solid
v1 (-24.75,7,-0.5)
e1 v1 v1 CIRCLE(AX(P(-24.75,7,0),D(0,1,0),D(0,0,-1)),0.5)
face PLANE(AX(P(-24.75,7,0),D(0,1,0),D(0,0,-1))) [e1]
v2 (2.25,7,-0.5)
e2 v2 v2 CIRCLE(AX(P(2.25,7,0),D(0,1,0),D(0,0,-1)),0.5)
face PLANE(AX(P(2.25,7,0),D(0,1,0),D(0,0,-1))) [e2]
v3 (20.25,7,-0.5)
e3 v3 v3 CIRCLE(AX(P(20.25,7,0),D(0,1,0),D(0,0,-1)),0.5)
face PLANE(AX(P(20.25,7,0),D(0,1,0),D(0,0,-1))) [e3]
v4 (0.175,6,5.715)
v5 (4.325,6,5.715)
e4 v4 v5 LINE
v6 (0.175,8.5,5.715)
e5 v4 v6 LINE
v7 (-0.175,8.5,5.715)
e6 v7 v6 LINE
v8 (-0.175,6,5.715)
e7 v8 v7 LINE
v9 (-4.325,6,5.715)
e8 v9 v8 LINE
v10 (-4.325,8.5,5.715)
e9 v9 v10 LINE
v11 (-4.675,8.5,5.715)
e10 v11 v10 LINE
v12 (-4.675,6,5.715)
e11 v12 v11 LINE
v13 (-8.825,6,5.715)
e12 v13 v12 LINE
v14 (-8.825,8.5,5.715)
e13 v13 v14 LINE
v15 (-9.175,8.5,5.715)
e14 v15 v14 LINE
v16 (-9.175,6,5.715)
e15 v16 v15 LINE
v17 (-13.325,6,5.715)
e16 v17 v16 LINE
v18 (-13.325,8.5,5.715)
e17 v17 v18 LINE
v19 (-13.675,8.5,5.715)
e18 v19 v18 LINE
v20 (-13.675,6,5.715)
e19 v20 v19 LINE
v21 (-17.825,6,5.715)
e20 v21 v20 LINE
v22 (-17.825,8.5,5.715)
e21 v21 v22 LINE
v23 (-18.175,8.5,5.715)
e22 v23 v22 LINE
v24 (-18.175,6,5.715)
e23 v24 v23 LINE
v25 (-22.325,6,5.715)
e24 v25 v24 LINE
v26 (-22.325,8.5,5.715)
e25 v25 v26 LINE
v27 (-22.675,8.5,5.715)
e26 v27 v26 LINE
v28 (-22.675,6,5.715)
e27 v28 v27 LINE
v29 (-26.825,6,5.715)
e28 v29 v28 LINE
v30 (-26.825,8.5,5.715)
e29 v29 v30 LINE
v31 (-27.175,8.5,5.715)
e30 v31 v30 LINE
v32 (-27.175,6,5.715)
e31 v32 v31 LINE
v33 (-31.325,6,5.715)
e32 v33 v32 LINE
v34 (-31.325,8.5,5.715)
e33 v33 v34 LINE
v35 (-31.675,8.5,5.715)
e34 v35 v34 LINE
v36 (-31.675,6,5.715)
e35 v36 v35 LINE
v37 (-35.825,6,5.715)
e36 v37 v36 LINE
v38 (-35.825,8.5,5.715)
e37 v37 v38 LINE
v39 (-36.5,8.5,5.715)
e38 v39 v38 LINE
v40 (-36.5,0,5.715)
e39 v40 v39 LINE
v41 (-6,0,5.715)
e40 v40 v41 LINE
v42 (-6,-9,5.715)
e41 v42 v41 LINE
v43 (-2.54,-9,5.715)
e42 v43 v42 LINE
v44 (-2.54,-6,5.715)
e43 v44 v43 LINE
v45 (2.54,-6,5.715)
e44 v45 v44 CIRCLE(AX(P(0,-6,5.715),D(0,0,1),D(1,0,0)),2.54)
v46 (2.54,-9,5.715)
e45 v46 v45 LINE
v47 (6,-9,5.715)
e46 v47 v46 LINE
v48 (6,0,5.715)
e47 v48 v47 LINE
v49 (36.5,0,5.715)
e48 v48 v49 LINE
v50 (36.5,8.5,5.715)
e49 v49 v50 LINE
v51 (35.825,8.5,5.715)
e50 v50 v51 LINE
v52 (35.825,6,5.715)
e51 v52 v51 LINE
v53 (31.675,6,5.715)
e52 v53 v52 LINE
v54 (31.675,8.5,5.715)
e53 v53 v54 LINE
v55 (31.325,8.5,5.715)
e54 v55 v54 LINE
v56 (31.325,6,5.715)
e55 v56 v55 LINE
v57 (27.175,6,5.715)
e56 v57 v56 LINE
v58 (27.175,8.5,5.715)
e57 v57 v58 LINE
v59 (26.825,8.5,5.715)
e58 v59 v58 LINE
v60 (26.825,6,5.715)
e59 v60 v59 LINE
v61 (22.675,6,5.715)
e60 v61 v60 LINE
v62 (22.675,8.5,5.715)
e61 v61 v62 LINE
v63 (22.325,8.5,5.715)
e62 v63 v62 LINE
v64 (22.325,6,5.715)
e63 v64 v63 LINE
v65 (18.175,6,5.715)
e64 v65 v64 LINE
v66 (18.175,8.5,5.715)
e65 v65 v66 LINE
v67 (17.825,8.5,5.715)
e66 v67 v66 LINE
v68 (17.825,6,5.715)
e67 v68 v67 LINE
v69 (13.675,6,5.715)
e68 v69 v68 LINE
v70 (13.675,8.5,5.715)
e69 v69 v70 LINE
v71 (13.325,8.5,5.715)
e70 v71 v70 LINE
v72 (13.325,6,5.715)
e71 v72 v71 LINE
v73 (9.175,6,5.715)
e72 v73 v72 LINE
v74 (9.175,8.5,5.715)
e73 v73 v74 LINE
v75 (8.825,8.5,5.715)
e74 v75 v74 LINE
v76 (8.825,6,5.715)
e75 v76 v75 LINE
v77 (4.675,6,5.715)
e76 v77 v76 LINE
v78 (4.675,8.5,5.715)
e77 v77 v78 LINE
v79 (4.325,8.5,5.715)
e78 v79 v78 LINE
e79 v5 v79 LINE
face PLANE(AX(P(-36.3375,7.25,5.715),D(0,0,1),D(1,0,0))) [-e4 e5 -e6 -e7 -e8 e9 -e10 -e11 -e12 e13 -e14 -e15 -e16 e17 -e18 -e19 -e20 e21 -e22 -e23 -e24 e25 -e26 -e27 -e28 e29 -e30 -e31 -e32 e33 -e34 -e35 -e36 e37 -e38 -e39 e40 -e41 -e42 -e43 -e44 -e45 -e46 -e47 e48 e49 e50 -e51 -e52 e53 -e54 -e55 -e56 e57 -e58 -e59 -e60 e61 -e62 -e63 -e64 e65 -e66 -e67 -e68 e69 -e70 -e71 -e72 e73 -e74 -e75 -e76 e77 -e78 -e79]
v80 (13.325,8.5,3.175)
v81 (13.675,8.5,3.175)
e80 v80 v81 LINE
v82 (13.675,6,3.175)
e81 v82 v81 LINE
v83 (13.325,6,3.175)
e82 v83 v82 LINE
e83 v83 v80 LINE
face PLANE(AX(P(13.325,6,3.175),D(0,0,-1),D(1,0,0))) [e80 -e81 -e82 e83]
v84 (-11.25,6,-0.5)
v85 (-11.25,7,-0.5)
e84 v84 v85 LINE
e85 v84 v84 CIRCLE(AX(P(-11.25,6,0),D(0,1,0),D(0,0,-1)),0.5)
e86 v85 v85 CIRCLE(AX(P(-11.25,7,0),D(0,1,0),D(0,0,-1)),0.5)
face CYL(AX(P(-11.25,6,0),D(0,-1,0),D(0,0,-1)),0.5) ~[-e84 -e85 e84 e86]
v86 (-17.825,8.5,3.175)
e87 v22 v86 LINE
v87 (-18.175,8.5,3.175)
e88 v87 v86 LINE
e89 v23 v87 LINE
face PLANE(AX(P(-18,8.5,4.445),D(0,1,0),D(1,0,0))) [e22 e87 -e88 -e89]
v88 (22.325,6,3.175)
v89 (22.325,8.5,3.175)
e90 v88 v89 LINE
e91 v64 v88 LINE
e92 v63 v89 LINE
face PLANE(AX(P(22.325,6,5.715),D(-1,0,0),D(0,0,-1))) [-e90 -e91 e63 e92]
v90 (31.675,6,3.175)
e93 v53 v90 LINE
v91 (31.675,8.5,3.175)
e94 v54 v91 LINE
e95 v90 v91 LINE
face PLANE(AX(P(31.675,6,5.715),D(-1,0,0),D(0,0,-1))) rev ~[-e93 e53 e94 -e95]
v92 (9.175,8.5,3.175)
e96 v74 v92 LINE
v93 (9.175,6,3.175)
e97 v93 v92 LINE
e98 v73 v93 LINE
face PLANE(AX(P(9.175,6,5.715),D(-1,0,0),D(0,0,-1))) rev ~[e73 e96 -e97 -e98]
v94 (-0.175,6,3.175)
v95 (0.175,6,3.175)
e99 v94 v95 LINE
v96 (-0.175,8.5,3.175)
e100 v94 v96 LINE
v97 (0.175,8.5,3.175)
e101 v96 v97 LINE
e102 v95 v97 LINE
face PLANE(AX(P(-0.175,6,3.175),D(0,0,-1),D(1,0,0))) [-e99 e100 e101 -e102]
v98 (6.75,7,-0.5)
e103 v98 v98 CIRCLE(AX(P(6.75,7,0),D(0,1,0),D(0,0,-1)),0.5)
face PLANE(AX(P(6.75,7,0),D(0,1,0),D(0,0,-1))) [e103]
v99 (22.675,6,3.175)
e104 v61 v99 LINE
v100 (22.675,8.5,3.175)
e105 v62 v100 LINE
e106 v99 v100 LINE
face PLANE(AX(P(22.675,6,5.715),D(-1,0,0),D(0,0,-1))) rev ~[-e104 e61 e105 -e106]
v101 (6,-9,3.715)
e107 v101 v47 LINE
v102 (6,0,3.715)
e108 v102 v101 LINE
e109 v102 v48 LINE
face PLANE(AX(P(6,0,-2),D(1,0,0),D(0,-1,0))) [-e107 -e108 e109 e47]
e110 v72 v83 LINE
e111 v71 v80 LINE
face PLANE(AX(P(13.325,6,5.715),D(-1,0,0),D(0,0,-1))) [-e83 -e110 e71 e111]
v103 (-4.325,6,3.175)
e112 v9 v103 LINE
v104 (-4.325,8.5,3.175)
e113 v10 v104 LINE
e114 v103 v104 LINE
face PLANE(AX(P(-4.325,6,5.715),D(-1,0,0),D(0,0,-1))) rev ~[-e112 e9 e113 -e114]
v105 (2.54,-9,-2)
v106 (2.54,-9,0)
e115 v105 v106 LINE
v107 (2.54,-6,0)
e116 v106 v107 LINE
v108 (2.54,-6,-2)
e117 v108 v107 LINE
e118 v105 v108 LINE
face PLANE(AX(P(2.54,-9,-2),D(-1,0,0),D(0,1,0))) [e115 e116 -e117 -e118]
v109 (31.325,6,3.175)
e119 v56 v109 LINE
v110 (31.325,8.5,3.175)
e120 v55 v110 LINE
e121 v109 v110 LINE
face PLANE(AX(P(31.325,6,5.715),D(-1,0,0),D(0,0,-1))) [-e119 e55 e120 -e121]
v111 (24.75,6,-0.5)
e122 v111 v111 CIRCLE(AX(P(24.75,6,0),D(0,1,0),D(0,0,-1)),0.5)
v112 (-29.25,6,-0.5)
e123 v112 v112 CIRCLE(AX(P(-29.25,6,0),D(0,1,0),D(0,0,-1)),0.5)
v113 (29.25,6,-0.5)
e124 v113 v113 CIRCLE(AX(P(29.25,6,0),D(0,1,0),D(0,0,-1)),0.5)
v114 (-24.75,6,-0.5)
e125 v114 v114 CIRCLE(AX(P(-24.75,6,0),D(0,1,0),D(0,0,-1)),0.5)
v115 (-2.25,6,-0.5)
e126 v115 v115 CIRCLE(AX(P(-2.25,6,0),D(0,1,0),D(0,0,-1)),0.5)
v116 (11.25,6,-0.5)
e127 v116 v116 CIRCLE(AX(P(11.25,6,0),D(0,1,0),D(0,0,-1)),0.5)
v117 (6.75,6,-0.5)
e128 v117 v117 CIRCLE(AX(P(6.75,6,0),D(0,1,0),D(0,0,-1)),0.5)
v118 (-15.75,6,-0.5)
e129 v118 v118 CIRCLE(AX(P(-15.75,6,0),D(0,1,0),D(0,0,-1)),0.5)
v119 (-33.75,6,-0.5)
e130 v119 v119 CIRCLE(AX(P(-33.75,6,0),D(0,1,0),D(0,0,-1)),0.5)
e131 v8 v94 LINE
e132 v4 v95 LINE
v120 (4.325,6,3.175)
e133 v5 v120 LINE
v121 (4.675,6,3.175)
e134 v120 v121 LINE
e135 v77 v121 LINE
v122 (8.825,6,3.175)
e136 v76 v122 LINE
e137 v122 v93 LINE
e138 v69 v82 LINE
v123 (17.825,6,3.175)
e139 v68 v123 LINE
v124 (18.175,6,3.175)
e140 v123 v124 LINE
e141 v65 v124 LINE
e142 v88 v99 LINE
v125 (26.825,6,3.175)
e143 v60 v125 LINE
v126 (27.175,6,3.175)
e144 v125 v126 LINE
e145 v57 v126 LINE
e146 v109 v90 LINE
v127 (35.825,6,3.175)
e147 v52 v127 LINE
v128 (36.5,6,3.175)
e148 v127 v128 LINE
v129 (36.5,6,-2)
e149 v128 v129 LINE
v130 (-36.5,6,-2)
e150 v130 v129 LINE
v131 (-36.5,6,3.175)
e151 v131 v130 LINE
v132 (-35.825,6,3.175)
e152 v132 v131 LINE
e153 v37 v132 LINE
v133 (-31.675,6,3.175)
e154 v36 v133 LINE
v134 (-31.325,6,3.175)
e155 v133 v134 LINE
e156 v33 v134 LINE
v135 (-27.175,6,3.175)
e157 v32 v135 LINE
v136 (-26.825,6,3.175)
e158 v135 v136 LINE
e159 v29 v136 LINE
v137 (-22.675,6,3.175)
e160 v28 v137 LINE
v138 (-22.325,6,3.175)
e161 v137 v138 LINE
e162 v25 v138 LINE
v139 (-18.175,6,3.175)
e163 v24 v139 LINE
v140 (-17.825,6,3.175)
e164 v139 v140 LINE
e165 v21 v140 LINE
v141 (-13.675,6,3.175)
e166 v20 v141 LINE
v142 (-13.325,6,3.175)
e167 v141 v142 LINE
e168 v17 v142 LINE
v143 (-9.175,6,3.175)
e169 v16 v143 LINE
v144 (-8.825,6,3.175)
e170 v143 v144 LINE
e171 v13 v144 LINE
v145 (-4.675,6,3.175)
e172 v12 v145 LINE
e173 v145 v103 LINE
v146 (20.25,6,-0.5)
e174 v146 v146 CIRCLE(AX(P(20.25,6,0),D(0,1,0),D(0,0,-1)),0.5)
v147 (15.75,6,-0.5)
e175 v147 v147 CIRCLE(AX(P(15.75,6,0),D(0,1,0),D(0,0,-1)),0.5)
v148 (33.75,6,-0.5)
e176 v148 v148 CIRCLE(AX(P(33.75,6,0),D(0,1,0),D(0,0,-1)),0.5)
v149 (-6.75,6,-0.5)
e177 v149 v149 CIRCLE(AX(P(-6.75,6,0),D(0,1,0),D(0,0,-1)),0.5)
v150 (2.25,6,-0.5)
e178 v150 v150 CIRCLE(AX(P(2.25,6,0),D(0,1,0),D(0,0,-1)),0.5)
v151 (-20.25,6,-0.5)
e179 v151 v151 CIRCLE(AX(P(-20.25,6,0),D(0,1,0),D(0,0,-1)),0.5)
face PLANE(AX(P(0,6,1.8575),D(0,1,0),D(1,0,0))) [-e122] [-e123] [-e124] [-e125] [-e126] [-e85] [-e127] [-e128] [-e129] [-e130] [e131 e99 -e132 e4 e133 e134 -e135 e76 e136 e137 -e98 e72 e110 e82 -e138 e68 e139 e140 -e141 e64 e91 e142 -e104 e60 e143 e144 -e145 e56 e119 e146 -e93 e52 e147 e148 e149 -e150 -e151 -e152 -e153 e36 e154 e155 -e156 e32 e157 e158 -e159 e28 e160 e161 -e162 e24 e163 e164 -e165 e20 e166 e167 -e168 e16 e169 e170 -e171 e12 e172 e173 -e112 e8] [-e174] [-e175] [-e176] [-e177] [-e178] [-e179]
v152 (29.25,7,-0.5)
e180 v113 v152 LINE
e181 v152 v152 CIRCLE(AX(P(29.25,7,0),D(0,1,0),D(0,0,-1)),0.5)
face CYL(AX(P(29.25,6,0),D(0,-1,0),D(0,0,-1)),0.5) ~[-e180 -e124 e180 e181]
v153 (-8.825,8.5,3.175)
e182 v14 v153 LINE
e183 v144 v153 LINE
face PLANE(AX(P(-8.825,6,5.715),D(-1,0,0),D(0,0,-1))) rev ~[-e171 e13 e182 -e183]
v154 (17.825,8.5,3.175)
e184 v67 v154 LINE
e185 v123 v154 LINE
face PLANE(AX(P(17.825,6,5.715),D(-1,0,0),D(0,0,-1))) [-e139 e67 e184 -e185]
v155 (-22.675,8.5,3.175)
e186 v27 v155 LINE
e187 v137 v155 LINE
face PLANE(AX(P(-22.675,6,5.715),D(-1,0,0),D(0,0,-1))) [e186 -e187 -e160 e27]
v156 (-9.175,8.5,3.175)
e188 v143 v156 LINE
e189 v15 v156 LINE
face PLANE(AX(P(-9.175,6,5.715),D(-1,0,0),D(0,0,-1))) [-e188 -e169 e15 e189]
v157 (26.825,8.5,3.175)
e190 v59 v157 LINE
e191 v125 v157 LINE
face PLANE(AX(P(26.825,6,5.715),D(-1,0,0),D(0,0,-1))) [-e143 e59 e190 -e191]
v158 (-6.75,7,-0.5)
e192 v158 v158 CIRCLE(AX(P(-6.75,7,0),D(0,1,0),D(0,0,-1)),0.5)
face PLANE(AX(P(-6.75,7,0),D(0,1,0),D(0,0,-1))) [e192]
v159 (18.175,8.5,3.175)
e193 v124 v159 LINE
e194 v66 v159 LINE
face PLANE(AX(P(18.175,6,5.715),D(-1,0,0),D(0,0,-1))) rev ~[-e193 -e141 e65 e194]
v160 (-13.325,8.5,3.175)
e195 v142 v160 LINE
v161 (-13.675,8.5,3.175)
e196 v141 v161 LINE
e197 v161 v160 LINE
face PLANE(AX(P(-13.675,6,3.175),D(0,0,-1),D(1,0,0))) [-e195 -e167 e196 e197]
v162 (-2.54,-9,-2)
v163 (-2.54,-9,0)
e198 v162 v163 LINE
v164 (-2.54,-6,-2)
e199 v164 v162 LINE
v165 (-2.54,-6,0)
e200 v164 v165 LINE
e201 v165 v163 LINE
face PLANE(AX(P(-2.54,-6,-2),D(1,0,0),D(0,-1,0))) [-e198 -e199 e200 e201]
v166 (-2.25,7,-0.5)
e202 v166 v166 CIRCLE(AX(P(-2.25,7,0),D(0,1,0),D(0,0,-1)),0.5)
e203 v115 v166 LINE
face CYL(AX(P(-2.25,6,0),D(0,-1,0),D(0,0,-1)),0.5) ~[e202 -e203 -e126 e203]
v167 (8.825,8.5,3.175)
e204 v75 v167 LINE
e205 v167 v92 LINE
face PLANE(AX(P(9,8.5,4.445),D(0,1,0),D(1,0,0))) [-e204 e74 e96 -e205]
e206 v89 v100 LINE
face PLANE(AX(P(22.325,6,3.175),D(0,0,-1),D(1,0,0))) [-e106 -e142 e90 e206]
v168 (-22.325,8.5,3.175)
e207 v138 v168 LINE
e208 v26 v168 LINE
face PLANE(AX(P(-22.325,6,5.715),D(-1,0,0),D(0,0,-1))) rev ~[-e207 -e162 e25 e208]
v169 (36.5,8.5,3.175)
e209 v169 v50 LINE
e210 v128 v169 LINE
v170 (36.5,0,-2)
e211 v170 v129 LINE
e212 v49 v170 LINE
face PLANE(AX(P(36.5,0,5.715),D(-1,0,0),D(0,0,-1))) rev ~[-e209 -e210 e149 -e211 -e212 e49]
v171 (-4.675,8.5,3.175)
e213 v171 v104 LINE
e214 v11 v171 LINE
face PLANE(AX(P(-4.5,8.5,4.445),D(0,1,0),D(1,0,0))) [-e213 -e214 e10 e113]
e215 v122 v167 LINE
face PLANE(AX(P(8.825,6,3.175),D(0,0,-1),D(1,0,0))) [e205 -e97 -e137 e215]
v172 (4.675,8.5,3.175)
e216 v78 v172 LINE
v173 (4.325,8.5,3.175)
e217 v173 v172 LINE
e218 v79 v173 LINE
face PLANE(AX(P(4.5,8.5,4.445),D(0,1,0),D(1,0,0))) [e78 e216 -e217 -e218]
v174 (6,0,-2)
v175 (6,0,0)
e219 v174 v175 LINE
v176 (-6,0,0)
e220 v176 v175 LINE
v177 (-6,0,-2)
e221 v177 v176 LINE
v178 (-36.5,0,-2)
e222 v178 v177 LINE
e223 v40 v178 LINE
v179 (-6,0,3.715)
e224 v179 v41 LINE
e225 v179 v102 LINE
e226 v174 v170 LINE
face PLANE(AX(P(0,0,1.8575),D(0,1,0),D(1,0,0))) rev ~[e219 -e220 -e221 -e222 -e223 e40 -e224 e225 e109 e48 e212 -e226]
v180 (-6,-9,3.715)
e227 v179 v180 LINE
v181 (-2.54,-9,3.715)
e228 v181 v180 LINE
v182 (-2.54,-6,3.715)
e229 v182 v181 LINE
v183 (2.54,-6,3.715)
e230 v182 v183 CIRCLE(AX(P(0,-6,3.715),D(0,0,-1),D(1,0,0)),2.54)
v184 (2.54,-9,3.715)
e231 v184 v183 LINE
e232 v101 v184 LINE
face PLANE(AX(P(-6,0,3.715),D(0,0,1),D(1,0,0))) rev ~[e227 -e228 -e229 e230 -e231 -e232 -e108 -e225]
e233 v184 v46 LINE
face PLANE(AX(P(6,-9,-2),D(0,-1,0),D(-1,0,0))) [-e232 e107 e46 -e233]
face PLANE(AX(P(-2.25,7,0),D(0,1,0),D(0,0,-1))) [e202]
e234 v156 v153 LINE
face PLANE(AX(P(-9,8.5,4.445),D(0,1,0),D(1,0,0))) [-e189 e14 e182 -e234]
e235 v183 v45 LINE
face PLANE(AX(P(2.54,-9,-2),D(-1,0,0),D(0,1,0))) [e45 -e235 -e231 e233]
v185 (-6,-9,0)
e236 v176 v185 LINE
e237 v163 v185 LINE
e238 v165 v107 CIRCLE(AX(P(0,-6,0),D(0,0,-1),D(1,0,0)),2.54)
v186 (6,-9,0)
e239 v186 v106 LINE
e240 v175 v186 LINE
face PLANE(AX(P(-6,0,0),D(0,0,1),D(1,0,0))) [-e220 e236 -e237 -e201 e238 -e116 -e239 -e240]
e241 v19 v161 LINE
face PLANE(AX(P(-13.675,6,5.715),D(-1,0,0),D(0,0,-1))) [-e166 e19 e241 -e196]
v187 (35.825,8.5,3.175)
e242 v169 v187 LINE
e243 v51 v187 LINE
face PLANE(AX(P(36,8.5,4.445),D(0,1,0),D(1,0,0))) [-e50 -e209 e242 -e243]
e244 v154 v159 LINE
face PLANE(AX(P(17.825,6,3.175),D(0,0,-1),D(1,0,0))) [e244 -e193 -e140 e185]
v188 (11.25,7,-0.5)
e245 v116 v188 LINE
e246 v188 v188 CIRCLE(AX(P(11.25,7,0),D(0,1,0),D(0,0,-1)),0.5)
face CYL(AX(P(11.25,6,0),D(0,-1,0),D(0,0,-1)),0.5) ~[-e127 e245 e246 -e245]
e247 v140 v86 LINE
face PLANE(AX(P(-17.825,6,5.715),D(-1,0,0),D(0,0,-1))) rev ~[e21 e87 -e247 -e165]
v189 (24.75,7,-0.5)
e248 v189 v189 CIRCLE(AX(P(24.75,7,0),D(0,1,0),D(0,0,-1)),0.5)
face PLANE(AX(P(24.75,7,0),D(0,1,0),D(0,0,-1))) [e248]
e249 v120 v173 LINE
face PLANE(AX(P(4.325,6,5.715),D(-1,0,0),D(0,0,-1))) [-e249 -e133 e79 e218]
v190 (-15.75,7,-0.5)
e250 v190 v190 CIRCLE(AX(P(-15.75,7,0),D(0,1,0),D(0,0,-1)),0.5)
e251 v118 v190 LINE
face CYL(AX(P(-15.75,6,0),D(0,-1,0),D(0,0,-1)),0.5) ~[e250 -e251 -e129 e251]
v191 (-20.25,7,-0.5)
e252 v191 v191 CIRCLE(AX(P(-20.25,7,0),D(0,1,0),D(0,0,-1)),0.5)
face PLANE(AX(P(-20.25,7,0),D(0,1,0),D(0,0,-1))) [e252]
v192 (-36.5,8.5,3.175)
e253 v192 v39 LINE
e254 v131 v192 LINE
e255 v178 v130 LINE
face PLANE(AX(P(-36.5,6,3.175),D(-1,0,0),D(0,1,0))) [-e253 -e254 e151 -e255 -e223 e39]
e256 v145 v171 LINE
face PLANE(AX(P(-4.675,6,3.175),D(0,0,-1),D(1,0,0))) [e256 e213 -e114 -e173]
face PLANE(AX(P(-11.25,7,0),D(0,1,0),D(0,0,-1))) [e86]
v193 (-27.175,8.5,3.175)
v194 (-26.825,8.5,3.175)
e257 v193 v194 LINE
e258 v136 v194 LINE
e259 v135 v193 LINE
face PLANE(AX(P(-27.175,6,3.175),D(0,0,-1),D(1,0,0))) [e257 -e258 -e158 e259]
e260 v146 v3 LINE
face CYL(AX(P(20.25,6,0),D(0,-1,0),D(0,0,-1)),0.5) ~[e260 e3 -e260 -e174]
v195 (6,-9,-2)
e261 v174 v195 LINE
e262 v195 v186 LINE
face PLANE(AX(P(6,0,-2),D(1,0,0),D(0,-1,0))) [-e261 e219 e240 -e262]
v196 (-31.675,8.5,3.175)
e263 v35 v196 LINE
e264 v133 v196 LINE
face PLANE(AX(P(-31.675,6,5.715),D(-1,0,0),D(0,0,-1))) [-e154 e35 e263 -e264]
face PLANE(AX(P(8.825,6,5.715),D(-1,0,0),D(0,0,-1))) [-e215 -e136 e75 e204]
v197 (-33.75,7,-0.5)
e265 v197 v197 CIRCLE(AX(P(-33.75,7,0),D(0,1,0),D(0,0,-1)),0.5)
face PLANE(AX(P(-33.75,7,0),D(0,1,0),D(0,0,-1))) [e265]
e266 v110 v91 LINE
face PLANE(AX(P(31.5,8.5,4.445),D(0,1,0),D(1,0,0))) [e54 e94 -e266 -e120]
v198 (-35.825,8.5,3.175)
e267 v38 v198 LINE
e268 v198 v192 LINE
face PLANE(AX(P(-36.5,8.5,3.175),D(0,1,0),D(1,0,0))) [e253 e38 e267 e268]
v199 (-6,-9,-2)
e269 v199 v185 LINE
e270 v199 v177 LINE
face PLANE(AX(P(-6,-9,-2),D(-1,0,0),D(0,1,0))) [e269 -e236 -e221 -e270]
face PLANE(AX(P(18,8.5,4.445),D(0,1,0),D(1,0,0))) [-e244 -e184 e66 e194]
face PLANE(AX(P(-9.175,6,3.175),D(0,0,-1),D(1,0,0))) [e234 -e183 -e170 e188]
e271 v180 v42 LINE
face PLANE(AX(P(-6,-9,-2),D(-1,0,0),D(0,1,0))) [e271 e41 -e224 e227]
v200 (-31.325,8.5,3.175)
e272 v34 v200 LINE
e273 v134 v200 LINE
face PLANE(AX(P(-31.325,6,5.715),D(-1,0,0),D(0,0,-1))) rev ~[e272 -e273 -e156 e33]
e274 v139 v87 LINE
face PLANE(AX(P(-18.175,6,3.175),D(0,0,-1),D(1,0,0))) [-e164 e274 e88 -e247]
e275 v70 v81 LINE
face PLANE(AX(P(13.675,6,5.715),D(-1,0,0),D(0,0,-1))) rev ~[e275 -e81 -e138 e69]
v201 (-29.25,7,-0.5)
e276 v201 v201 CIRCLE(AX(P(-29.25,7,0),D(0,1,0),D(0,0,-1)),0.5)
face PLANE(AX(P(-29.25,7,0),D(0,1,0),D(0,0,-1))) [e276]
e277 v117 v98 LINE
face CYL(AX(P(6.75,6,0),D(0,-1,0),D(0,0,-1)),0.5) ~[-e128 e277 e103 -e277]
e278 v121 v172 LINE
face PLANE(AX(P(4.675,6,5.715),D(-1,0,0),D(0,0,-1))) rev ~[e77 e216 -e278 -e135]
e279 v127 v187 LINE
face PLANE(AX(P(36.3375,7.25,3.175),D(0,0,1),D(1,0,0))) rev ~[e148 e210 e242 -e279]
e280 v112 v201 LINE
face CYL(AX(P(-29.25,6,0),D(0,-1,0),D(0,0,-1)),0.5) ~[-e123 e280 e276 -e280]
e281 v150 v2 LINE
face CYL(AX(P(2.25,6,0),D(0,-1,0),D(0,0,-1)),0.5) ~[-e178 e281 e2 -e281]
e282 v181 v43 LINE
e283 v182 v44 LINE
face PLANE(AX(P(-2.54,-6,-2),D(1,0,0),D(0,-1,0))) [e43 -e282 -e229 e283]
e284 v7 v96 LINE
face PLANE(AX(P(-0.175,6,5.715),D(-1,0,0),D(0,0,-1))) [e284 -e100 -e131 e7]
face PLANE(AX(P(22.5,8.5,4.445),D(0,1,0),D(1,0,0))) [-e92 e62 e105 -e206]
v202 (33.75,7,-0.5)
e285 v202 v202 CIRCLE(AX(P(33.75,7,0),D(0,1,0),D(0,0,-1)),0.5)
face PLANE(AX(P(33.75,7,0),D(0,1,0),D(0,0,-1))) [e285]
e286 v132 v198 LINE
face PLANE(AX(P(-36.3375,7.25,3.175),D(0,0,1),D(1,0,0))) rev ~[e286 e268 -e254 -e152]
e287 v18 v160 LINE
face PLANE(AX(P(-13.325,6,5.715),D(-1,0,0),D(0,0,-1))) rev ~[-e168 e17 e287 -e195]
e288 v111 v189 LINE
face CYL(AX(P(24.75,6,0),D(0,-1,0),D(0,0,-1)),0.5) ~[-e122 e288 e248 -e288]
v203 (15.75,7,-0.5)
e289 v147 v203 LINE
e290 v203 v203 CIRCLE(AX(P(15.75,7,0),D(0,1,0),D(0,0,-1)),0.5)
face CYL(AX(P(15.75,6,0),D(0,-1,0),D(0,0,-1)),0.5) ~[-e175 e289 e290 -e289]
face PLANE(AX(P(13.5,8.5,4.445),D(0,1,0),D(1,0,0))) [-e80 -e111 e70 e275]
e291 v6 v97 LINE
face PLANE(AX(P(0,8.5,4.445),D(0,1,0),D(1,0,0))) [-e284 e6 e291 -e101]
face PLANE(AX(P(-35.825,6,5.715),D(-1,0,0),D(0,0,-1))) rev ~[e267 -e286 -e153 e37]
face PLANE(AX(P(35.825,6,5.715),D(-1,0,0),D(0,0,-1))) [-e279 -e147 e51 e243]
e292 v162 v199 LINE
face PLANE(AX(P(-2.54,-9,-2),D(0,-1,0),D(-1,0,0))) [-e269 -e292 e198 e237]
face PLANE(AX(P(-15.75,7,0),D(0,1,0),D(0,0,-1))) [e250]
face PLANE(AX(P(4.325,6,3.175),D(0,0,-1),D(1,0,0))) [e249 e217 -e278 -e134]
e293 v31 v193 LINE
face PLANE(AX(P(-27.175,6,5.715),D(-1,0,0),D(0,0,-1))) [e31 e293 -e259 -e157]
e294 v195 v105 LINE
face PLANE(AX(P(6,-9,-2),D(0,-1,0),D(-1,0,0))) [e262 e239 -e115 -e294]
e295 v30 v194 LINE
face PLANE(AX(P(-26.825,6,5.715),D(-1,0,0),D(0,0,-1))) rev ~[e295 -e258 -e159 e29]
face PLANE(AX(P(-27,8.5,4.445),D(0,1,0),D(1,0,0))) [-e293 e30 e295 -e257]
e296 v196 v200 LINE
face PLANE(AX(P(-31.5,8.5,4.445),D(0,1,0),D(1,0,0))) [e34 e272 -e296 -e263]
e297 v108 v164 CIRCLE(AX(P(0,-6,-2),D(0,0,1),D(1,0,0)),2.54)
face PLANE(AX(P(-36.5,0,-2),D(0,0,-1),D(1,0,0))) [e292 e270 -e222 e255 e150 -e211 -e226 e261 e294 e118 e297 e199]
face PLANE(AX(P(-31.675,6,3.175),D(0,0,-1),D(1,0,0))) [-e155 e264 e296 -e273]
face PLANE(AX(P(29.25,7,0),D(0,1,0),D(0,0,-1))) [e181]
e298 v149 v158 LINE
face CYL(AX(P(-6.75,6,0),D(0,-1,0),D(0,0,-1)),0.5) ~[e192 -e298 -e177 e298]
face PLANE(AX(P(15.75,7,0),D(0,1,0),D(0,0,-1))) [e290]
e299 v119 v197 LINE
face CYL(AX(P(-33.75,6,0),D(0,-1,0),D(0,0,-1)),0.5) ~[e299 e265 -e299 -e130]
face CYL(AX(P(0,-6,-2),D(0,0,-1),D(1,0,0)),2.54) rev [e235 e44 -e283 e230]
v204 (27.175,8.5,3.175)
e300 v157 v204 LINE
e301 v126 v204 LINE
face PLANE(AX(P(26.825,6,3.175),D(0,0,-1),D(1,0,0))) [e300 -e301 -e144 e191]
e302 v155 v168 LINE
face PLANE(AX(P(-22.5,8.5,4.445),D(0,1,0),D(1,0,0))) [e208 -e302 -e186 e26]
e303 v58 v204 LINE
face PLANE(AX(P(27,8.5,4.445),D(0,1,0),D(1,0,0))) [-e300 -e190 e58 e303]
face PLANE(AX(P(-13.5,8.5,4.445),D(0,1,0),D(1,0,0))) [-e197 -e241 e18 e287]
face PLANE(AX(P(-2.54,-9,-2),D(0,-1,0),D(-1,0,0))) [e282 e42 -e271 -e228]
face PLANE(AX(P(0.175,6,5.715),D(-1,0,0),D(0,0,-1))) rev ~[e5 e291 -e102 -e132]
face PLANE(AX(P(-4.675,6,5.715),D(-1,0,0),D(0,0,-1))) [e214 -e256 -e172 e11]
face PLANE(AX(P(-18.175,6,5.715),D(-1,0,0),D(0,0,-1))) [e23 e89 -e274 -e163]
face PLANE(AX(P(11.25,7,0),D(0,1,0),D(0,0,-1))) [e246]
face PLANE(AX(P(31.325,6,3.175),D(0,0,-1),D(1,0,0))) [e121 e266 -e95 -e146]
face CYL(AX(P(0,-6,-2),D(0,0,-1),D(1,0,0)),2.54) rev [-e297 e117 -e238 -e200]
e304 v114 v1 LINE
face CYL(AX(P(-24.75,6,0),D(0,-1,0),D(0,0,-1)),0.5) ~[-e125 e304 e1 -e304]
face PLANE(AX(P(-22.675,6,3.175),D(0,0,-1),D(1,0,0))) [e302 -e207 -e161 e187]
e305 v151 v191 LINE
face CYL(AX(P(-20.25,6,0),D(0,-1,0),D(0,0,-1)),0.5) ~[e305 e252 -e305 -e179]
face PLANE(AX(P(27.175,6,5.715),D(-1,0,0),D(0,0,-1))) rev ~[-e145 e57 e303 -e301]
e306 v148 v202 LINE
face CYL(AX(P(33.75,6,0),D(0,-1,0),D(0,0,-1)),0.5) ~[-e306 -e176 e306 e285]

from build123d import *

# Parameters (mm, degrees)
SKETCH1_W                 = 73
SKETCH1_H                 = 7.715
BOSS_EXTRUDE1_DEPTH       = 6
SKETCH2_R                 = 0.5
BOSS_EXTRUDE2_DEPTH       = 1
SKETCH3_W                 = 0.35
SKETCH3_H                 = 2.54
BOSS_EXTRUDE3_DEPTH       = 2.5
SKETCH4_W                 = 0.325
SKETCH4_H                 = 2.5
BOSS_EXTRUDE4_DEPTH       = 2.54
BOSS_EXTRUDE12_DEPTH      = 5.715
BOSS_EXTRUDE12_DEPTH_BACK = 2
SKETCH13_W                = 12
SKETCH13_H                = 3.715
CUT_EXTRUDE1_DEPTH        = 39.025139382


with BuildPart() as part:
    # Sketch1 → Boss-Extrude1 (new body)
    with BuildSketch(Plane(origin=(0, 0, 0), x_dir=(1, 0, 0), z_dir=(0, 1, 0))):
        with Locations((0, -1.8575)):
            Rectangle(SKETCH1_W, SKETCH1_H)
    extrude(amount=BOSS_EXTRUDE1_DEPTH)

    # Sketch2 → Boss-Extrude2 (add)
    with BuildSketch(Plane(origin=(0, 6, 0), x_dir=(1, 0, 0), z_dir=(0, 1, 0))):
        with Locations(Location((2.25, 0, 0), (0, 0, 90))):
            Circle(SKETCH2_R)
        with Locations(Location((6.75, 0, 0), (0, 0, 90))):
            Circle(SKETCH2_R)
        with Locations(Location((11.25, 0, 0), (0, 0, 90))):
            Circle(SKETCH2_R)
        with Locations(Location((15.75, 0, 0), (0, 0, 90))):
            Circle(SKETCH2_R)
        with Locations(Location((20.25, 0, 0), (0, 0, 90))):
            Circle(SKETCH2_R)
        with Locations(Location((24.75, 0, 0), (0, 0, 90))):
            Circle(SKETCH2_R)
        with Locations(Location((29.25, 0, 0), (0, 0, 90))):
            Circle(SKETCH2_R)
        with Locations(Location((33.75, 0, 0), (0, 0, 90))):
            Circle(SKETCH2_R)
        with Locations(Location((-33.75, 0, 0), (0, 0, 90))):
            Circle(SKETCH2_R)
        with Locations(Location((-29.25, 0, 0), (0, 0, 90))):
            Circle(SKETCH2_R)
        with Locations(Location((-24.75, 0, 0), (0, 0, 90))):
            Circle(SKETCH2_R)
        with Locations(Location((-20.25, 0, 0), (0, 0, 90))):
            Circle(SKETCH2_R)
        with Locations(Location((-15.75, 0, 0), (0, 0, 90))):
            Circle(SKETCH2_R)
        with Locations(Location((-11.25, 0, 0), (0, 0, 90))):
            Circle(SKETCH2_R)
        with Locations(Location((-6.75, 0, 0), (0, 0, 90))):
            Circle(SKETCH2_R)
        with Locations(Location((-2.25, 0, 0), (0, 0, 90))):
            Circle(SKETCH2_R)
    extrude(amount=BOSS_EXTRUDE2_DEPTH)

    # Sketch3 → Boss-Extrude3 (add)
    with BuildSketch(Plane(origin=(0, 6, 0), x_dir=(1, 0, 0), z_dir=(0, 1, 0))):
        with Locations((4.5, -4.445)):
            Rectangle(SKETCH3_W, SKETCH3_H)
        with Locations((0, -4.445)):
            Rectangle(SKETCH3_W, SKETCH3_H)
        with Locations((9, -4.445)):
            Rectangle(SKETCH3_W, SKETCH3_H)
        with Locations((13.5, -4.445)):
            Rectangle(SKETCH3_W, SKETCH3_H)
        with Locations((18, -4.445)):
            Rectangle(SKETCH3_W, SKETCH3_H)
        with Locations((22.5, -4.445)):
            Rectangle(SKETCH3_W, SKETCH3_H)
        with Locations((27, -4.445)):
            Rectangle(SKETCH3_W, SKETCH3_H)
        with Locations((31.5, -4.445)):
            Rectangle(SKETCH3_W, SKETCH3_H)
        with Locations((36, -4.445)):
            Rectangle(SKETCH3_W, SKETCH3_H)
        with Locations((-4.5, -4.445)):
            Rectangle(SKETCH3_W, SKETCH3_H)
        with Locations((-9, -4.445)):
            Rectangle(SKETCH3_W, SKETCH3_H)
        with Locations((-13.5, -4.445)):
            Rectangle(SKETCH3_W, SKETCH3_H)
        with Locations((-18, -4.445)):
            Rectangle(SKETCH3_W, SKETCH3_H)
        with Locations((-22.5, -4.445)):
            Rectangle(SKETCH3_W, SKETCH3_H)
        with Locations((-27, -4.445)):
            Rectangle(SKETCH3_W, SKETCH3_H)
        with Locations((-31.5, -4.445)):
            Rectangle(SKETCH3_W, SKETCH3_H)
        with Locations((-36, -4.445)):
            Rectangle(SKETCH3_W, SKETCH3_H)
    extrude(amount=BOSS_EXTRUDE3_DEPTH)

    # Sketch4 → Boss-Extrude4 (add)
    with BuildSketch(Plane.XY.offset(3.175)):
        with Locations((-36.3375, 7.25)):
            Rectangle(SKETCH4_W, SKETCH4_H)
        with Locations((36.3375, 7.25)):
            Rectangle(SKETCH4_W, SKETCH4_H)
    extrude(amount=BOSS_EXTRUDE4_DEPTH)

    # Sketch12 → Boss-Extrude12 (add, two sides: drawn at the far end of the back side and taken through both)
    with BuildSketch(Plane.XY.offset(-BOSS_EXTRUDE12_DEPTH_BACK)):
        with BuildLine():
            Line((-2.54, -6), (-2.54, -9))
            Line((-2.54, -9), (-6, -9))
            Line((-6, -9), (-6, 0))
            Line((-6, 0), (6, 0))
            Line((6, 0), (6, -9))
            Line((6, -9), (2.54, -9))
            Line((2.54, -9), (2.54, -6))
            ThreePointArc((2.54, -6), (0, -3.46), (-2.54, -6))
        make_face()
    extrude(amount=BOSS_EXTRUDE12_DEPTH + BOSS_EXTRUDE12_DEPTH_BACK)

    # Sketch13 → Cut-Extrude1 (cut, through all)
    with BuildSketch(Plane.XZ):
        with Locations((0, 1.8575)):
            Rectangle(SKETCH13_W, SKETCH13_H)
    extrude(amount=CUT_EXTRUDE1_DEPTH, mode=Mode.SUBTRACT)


solid = part.part
